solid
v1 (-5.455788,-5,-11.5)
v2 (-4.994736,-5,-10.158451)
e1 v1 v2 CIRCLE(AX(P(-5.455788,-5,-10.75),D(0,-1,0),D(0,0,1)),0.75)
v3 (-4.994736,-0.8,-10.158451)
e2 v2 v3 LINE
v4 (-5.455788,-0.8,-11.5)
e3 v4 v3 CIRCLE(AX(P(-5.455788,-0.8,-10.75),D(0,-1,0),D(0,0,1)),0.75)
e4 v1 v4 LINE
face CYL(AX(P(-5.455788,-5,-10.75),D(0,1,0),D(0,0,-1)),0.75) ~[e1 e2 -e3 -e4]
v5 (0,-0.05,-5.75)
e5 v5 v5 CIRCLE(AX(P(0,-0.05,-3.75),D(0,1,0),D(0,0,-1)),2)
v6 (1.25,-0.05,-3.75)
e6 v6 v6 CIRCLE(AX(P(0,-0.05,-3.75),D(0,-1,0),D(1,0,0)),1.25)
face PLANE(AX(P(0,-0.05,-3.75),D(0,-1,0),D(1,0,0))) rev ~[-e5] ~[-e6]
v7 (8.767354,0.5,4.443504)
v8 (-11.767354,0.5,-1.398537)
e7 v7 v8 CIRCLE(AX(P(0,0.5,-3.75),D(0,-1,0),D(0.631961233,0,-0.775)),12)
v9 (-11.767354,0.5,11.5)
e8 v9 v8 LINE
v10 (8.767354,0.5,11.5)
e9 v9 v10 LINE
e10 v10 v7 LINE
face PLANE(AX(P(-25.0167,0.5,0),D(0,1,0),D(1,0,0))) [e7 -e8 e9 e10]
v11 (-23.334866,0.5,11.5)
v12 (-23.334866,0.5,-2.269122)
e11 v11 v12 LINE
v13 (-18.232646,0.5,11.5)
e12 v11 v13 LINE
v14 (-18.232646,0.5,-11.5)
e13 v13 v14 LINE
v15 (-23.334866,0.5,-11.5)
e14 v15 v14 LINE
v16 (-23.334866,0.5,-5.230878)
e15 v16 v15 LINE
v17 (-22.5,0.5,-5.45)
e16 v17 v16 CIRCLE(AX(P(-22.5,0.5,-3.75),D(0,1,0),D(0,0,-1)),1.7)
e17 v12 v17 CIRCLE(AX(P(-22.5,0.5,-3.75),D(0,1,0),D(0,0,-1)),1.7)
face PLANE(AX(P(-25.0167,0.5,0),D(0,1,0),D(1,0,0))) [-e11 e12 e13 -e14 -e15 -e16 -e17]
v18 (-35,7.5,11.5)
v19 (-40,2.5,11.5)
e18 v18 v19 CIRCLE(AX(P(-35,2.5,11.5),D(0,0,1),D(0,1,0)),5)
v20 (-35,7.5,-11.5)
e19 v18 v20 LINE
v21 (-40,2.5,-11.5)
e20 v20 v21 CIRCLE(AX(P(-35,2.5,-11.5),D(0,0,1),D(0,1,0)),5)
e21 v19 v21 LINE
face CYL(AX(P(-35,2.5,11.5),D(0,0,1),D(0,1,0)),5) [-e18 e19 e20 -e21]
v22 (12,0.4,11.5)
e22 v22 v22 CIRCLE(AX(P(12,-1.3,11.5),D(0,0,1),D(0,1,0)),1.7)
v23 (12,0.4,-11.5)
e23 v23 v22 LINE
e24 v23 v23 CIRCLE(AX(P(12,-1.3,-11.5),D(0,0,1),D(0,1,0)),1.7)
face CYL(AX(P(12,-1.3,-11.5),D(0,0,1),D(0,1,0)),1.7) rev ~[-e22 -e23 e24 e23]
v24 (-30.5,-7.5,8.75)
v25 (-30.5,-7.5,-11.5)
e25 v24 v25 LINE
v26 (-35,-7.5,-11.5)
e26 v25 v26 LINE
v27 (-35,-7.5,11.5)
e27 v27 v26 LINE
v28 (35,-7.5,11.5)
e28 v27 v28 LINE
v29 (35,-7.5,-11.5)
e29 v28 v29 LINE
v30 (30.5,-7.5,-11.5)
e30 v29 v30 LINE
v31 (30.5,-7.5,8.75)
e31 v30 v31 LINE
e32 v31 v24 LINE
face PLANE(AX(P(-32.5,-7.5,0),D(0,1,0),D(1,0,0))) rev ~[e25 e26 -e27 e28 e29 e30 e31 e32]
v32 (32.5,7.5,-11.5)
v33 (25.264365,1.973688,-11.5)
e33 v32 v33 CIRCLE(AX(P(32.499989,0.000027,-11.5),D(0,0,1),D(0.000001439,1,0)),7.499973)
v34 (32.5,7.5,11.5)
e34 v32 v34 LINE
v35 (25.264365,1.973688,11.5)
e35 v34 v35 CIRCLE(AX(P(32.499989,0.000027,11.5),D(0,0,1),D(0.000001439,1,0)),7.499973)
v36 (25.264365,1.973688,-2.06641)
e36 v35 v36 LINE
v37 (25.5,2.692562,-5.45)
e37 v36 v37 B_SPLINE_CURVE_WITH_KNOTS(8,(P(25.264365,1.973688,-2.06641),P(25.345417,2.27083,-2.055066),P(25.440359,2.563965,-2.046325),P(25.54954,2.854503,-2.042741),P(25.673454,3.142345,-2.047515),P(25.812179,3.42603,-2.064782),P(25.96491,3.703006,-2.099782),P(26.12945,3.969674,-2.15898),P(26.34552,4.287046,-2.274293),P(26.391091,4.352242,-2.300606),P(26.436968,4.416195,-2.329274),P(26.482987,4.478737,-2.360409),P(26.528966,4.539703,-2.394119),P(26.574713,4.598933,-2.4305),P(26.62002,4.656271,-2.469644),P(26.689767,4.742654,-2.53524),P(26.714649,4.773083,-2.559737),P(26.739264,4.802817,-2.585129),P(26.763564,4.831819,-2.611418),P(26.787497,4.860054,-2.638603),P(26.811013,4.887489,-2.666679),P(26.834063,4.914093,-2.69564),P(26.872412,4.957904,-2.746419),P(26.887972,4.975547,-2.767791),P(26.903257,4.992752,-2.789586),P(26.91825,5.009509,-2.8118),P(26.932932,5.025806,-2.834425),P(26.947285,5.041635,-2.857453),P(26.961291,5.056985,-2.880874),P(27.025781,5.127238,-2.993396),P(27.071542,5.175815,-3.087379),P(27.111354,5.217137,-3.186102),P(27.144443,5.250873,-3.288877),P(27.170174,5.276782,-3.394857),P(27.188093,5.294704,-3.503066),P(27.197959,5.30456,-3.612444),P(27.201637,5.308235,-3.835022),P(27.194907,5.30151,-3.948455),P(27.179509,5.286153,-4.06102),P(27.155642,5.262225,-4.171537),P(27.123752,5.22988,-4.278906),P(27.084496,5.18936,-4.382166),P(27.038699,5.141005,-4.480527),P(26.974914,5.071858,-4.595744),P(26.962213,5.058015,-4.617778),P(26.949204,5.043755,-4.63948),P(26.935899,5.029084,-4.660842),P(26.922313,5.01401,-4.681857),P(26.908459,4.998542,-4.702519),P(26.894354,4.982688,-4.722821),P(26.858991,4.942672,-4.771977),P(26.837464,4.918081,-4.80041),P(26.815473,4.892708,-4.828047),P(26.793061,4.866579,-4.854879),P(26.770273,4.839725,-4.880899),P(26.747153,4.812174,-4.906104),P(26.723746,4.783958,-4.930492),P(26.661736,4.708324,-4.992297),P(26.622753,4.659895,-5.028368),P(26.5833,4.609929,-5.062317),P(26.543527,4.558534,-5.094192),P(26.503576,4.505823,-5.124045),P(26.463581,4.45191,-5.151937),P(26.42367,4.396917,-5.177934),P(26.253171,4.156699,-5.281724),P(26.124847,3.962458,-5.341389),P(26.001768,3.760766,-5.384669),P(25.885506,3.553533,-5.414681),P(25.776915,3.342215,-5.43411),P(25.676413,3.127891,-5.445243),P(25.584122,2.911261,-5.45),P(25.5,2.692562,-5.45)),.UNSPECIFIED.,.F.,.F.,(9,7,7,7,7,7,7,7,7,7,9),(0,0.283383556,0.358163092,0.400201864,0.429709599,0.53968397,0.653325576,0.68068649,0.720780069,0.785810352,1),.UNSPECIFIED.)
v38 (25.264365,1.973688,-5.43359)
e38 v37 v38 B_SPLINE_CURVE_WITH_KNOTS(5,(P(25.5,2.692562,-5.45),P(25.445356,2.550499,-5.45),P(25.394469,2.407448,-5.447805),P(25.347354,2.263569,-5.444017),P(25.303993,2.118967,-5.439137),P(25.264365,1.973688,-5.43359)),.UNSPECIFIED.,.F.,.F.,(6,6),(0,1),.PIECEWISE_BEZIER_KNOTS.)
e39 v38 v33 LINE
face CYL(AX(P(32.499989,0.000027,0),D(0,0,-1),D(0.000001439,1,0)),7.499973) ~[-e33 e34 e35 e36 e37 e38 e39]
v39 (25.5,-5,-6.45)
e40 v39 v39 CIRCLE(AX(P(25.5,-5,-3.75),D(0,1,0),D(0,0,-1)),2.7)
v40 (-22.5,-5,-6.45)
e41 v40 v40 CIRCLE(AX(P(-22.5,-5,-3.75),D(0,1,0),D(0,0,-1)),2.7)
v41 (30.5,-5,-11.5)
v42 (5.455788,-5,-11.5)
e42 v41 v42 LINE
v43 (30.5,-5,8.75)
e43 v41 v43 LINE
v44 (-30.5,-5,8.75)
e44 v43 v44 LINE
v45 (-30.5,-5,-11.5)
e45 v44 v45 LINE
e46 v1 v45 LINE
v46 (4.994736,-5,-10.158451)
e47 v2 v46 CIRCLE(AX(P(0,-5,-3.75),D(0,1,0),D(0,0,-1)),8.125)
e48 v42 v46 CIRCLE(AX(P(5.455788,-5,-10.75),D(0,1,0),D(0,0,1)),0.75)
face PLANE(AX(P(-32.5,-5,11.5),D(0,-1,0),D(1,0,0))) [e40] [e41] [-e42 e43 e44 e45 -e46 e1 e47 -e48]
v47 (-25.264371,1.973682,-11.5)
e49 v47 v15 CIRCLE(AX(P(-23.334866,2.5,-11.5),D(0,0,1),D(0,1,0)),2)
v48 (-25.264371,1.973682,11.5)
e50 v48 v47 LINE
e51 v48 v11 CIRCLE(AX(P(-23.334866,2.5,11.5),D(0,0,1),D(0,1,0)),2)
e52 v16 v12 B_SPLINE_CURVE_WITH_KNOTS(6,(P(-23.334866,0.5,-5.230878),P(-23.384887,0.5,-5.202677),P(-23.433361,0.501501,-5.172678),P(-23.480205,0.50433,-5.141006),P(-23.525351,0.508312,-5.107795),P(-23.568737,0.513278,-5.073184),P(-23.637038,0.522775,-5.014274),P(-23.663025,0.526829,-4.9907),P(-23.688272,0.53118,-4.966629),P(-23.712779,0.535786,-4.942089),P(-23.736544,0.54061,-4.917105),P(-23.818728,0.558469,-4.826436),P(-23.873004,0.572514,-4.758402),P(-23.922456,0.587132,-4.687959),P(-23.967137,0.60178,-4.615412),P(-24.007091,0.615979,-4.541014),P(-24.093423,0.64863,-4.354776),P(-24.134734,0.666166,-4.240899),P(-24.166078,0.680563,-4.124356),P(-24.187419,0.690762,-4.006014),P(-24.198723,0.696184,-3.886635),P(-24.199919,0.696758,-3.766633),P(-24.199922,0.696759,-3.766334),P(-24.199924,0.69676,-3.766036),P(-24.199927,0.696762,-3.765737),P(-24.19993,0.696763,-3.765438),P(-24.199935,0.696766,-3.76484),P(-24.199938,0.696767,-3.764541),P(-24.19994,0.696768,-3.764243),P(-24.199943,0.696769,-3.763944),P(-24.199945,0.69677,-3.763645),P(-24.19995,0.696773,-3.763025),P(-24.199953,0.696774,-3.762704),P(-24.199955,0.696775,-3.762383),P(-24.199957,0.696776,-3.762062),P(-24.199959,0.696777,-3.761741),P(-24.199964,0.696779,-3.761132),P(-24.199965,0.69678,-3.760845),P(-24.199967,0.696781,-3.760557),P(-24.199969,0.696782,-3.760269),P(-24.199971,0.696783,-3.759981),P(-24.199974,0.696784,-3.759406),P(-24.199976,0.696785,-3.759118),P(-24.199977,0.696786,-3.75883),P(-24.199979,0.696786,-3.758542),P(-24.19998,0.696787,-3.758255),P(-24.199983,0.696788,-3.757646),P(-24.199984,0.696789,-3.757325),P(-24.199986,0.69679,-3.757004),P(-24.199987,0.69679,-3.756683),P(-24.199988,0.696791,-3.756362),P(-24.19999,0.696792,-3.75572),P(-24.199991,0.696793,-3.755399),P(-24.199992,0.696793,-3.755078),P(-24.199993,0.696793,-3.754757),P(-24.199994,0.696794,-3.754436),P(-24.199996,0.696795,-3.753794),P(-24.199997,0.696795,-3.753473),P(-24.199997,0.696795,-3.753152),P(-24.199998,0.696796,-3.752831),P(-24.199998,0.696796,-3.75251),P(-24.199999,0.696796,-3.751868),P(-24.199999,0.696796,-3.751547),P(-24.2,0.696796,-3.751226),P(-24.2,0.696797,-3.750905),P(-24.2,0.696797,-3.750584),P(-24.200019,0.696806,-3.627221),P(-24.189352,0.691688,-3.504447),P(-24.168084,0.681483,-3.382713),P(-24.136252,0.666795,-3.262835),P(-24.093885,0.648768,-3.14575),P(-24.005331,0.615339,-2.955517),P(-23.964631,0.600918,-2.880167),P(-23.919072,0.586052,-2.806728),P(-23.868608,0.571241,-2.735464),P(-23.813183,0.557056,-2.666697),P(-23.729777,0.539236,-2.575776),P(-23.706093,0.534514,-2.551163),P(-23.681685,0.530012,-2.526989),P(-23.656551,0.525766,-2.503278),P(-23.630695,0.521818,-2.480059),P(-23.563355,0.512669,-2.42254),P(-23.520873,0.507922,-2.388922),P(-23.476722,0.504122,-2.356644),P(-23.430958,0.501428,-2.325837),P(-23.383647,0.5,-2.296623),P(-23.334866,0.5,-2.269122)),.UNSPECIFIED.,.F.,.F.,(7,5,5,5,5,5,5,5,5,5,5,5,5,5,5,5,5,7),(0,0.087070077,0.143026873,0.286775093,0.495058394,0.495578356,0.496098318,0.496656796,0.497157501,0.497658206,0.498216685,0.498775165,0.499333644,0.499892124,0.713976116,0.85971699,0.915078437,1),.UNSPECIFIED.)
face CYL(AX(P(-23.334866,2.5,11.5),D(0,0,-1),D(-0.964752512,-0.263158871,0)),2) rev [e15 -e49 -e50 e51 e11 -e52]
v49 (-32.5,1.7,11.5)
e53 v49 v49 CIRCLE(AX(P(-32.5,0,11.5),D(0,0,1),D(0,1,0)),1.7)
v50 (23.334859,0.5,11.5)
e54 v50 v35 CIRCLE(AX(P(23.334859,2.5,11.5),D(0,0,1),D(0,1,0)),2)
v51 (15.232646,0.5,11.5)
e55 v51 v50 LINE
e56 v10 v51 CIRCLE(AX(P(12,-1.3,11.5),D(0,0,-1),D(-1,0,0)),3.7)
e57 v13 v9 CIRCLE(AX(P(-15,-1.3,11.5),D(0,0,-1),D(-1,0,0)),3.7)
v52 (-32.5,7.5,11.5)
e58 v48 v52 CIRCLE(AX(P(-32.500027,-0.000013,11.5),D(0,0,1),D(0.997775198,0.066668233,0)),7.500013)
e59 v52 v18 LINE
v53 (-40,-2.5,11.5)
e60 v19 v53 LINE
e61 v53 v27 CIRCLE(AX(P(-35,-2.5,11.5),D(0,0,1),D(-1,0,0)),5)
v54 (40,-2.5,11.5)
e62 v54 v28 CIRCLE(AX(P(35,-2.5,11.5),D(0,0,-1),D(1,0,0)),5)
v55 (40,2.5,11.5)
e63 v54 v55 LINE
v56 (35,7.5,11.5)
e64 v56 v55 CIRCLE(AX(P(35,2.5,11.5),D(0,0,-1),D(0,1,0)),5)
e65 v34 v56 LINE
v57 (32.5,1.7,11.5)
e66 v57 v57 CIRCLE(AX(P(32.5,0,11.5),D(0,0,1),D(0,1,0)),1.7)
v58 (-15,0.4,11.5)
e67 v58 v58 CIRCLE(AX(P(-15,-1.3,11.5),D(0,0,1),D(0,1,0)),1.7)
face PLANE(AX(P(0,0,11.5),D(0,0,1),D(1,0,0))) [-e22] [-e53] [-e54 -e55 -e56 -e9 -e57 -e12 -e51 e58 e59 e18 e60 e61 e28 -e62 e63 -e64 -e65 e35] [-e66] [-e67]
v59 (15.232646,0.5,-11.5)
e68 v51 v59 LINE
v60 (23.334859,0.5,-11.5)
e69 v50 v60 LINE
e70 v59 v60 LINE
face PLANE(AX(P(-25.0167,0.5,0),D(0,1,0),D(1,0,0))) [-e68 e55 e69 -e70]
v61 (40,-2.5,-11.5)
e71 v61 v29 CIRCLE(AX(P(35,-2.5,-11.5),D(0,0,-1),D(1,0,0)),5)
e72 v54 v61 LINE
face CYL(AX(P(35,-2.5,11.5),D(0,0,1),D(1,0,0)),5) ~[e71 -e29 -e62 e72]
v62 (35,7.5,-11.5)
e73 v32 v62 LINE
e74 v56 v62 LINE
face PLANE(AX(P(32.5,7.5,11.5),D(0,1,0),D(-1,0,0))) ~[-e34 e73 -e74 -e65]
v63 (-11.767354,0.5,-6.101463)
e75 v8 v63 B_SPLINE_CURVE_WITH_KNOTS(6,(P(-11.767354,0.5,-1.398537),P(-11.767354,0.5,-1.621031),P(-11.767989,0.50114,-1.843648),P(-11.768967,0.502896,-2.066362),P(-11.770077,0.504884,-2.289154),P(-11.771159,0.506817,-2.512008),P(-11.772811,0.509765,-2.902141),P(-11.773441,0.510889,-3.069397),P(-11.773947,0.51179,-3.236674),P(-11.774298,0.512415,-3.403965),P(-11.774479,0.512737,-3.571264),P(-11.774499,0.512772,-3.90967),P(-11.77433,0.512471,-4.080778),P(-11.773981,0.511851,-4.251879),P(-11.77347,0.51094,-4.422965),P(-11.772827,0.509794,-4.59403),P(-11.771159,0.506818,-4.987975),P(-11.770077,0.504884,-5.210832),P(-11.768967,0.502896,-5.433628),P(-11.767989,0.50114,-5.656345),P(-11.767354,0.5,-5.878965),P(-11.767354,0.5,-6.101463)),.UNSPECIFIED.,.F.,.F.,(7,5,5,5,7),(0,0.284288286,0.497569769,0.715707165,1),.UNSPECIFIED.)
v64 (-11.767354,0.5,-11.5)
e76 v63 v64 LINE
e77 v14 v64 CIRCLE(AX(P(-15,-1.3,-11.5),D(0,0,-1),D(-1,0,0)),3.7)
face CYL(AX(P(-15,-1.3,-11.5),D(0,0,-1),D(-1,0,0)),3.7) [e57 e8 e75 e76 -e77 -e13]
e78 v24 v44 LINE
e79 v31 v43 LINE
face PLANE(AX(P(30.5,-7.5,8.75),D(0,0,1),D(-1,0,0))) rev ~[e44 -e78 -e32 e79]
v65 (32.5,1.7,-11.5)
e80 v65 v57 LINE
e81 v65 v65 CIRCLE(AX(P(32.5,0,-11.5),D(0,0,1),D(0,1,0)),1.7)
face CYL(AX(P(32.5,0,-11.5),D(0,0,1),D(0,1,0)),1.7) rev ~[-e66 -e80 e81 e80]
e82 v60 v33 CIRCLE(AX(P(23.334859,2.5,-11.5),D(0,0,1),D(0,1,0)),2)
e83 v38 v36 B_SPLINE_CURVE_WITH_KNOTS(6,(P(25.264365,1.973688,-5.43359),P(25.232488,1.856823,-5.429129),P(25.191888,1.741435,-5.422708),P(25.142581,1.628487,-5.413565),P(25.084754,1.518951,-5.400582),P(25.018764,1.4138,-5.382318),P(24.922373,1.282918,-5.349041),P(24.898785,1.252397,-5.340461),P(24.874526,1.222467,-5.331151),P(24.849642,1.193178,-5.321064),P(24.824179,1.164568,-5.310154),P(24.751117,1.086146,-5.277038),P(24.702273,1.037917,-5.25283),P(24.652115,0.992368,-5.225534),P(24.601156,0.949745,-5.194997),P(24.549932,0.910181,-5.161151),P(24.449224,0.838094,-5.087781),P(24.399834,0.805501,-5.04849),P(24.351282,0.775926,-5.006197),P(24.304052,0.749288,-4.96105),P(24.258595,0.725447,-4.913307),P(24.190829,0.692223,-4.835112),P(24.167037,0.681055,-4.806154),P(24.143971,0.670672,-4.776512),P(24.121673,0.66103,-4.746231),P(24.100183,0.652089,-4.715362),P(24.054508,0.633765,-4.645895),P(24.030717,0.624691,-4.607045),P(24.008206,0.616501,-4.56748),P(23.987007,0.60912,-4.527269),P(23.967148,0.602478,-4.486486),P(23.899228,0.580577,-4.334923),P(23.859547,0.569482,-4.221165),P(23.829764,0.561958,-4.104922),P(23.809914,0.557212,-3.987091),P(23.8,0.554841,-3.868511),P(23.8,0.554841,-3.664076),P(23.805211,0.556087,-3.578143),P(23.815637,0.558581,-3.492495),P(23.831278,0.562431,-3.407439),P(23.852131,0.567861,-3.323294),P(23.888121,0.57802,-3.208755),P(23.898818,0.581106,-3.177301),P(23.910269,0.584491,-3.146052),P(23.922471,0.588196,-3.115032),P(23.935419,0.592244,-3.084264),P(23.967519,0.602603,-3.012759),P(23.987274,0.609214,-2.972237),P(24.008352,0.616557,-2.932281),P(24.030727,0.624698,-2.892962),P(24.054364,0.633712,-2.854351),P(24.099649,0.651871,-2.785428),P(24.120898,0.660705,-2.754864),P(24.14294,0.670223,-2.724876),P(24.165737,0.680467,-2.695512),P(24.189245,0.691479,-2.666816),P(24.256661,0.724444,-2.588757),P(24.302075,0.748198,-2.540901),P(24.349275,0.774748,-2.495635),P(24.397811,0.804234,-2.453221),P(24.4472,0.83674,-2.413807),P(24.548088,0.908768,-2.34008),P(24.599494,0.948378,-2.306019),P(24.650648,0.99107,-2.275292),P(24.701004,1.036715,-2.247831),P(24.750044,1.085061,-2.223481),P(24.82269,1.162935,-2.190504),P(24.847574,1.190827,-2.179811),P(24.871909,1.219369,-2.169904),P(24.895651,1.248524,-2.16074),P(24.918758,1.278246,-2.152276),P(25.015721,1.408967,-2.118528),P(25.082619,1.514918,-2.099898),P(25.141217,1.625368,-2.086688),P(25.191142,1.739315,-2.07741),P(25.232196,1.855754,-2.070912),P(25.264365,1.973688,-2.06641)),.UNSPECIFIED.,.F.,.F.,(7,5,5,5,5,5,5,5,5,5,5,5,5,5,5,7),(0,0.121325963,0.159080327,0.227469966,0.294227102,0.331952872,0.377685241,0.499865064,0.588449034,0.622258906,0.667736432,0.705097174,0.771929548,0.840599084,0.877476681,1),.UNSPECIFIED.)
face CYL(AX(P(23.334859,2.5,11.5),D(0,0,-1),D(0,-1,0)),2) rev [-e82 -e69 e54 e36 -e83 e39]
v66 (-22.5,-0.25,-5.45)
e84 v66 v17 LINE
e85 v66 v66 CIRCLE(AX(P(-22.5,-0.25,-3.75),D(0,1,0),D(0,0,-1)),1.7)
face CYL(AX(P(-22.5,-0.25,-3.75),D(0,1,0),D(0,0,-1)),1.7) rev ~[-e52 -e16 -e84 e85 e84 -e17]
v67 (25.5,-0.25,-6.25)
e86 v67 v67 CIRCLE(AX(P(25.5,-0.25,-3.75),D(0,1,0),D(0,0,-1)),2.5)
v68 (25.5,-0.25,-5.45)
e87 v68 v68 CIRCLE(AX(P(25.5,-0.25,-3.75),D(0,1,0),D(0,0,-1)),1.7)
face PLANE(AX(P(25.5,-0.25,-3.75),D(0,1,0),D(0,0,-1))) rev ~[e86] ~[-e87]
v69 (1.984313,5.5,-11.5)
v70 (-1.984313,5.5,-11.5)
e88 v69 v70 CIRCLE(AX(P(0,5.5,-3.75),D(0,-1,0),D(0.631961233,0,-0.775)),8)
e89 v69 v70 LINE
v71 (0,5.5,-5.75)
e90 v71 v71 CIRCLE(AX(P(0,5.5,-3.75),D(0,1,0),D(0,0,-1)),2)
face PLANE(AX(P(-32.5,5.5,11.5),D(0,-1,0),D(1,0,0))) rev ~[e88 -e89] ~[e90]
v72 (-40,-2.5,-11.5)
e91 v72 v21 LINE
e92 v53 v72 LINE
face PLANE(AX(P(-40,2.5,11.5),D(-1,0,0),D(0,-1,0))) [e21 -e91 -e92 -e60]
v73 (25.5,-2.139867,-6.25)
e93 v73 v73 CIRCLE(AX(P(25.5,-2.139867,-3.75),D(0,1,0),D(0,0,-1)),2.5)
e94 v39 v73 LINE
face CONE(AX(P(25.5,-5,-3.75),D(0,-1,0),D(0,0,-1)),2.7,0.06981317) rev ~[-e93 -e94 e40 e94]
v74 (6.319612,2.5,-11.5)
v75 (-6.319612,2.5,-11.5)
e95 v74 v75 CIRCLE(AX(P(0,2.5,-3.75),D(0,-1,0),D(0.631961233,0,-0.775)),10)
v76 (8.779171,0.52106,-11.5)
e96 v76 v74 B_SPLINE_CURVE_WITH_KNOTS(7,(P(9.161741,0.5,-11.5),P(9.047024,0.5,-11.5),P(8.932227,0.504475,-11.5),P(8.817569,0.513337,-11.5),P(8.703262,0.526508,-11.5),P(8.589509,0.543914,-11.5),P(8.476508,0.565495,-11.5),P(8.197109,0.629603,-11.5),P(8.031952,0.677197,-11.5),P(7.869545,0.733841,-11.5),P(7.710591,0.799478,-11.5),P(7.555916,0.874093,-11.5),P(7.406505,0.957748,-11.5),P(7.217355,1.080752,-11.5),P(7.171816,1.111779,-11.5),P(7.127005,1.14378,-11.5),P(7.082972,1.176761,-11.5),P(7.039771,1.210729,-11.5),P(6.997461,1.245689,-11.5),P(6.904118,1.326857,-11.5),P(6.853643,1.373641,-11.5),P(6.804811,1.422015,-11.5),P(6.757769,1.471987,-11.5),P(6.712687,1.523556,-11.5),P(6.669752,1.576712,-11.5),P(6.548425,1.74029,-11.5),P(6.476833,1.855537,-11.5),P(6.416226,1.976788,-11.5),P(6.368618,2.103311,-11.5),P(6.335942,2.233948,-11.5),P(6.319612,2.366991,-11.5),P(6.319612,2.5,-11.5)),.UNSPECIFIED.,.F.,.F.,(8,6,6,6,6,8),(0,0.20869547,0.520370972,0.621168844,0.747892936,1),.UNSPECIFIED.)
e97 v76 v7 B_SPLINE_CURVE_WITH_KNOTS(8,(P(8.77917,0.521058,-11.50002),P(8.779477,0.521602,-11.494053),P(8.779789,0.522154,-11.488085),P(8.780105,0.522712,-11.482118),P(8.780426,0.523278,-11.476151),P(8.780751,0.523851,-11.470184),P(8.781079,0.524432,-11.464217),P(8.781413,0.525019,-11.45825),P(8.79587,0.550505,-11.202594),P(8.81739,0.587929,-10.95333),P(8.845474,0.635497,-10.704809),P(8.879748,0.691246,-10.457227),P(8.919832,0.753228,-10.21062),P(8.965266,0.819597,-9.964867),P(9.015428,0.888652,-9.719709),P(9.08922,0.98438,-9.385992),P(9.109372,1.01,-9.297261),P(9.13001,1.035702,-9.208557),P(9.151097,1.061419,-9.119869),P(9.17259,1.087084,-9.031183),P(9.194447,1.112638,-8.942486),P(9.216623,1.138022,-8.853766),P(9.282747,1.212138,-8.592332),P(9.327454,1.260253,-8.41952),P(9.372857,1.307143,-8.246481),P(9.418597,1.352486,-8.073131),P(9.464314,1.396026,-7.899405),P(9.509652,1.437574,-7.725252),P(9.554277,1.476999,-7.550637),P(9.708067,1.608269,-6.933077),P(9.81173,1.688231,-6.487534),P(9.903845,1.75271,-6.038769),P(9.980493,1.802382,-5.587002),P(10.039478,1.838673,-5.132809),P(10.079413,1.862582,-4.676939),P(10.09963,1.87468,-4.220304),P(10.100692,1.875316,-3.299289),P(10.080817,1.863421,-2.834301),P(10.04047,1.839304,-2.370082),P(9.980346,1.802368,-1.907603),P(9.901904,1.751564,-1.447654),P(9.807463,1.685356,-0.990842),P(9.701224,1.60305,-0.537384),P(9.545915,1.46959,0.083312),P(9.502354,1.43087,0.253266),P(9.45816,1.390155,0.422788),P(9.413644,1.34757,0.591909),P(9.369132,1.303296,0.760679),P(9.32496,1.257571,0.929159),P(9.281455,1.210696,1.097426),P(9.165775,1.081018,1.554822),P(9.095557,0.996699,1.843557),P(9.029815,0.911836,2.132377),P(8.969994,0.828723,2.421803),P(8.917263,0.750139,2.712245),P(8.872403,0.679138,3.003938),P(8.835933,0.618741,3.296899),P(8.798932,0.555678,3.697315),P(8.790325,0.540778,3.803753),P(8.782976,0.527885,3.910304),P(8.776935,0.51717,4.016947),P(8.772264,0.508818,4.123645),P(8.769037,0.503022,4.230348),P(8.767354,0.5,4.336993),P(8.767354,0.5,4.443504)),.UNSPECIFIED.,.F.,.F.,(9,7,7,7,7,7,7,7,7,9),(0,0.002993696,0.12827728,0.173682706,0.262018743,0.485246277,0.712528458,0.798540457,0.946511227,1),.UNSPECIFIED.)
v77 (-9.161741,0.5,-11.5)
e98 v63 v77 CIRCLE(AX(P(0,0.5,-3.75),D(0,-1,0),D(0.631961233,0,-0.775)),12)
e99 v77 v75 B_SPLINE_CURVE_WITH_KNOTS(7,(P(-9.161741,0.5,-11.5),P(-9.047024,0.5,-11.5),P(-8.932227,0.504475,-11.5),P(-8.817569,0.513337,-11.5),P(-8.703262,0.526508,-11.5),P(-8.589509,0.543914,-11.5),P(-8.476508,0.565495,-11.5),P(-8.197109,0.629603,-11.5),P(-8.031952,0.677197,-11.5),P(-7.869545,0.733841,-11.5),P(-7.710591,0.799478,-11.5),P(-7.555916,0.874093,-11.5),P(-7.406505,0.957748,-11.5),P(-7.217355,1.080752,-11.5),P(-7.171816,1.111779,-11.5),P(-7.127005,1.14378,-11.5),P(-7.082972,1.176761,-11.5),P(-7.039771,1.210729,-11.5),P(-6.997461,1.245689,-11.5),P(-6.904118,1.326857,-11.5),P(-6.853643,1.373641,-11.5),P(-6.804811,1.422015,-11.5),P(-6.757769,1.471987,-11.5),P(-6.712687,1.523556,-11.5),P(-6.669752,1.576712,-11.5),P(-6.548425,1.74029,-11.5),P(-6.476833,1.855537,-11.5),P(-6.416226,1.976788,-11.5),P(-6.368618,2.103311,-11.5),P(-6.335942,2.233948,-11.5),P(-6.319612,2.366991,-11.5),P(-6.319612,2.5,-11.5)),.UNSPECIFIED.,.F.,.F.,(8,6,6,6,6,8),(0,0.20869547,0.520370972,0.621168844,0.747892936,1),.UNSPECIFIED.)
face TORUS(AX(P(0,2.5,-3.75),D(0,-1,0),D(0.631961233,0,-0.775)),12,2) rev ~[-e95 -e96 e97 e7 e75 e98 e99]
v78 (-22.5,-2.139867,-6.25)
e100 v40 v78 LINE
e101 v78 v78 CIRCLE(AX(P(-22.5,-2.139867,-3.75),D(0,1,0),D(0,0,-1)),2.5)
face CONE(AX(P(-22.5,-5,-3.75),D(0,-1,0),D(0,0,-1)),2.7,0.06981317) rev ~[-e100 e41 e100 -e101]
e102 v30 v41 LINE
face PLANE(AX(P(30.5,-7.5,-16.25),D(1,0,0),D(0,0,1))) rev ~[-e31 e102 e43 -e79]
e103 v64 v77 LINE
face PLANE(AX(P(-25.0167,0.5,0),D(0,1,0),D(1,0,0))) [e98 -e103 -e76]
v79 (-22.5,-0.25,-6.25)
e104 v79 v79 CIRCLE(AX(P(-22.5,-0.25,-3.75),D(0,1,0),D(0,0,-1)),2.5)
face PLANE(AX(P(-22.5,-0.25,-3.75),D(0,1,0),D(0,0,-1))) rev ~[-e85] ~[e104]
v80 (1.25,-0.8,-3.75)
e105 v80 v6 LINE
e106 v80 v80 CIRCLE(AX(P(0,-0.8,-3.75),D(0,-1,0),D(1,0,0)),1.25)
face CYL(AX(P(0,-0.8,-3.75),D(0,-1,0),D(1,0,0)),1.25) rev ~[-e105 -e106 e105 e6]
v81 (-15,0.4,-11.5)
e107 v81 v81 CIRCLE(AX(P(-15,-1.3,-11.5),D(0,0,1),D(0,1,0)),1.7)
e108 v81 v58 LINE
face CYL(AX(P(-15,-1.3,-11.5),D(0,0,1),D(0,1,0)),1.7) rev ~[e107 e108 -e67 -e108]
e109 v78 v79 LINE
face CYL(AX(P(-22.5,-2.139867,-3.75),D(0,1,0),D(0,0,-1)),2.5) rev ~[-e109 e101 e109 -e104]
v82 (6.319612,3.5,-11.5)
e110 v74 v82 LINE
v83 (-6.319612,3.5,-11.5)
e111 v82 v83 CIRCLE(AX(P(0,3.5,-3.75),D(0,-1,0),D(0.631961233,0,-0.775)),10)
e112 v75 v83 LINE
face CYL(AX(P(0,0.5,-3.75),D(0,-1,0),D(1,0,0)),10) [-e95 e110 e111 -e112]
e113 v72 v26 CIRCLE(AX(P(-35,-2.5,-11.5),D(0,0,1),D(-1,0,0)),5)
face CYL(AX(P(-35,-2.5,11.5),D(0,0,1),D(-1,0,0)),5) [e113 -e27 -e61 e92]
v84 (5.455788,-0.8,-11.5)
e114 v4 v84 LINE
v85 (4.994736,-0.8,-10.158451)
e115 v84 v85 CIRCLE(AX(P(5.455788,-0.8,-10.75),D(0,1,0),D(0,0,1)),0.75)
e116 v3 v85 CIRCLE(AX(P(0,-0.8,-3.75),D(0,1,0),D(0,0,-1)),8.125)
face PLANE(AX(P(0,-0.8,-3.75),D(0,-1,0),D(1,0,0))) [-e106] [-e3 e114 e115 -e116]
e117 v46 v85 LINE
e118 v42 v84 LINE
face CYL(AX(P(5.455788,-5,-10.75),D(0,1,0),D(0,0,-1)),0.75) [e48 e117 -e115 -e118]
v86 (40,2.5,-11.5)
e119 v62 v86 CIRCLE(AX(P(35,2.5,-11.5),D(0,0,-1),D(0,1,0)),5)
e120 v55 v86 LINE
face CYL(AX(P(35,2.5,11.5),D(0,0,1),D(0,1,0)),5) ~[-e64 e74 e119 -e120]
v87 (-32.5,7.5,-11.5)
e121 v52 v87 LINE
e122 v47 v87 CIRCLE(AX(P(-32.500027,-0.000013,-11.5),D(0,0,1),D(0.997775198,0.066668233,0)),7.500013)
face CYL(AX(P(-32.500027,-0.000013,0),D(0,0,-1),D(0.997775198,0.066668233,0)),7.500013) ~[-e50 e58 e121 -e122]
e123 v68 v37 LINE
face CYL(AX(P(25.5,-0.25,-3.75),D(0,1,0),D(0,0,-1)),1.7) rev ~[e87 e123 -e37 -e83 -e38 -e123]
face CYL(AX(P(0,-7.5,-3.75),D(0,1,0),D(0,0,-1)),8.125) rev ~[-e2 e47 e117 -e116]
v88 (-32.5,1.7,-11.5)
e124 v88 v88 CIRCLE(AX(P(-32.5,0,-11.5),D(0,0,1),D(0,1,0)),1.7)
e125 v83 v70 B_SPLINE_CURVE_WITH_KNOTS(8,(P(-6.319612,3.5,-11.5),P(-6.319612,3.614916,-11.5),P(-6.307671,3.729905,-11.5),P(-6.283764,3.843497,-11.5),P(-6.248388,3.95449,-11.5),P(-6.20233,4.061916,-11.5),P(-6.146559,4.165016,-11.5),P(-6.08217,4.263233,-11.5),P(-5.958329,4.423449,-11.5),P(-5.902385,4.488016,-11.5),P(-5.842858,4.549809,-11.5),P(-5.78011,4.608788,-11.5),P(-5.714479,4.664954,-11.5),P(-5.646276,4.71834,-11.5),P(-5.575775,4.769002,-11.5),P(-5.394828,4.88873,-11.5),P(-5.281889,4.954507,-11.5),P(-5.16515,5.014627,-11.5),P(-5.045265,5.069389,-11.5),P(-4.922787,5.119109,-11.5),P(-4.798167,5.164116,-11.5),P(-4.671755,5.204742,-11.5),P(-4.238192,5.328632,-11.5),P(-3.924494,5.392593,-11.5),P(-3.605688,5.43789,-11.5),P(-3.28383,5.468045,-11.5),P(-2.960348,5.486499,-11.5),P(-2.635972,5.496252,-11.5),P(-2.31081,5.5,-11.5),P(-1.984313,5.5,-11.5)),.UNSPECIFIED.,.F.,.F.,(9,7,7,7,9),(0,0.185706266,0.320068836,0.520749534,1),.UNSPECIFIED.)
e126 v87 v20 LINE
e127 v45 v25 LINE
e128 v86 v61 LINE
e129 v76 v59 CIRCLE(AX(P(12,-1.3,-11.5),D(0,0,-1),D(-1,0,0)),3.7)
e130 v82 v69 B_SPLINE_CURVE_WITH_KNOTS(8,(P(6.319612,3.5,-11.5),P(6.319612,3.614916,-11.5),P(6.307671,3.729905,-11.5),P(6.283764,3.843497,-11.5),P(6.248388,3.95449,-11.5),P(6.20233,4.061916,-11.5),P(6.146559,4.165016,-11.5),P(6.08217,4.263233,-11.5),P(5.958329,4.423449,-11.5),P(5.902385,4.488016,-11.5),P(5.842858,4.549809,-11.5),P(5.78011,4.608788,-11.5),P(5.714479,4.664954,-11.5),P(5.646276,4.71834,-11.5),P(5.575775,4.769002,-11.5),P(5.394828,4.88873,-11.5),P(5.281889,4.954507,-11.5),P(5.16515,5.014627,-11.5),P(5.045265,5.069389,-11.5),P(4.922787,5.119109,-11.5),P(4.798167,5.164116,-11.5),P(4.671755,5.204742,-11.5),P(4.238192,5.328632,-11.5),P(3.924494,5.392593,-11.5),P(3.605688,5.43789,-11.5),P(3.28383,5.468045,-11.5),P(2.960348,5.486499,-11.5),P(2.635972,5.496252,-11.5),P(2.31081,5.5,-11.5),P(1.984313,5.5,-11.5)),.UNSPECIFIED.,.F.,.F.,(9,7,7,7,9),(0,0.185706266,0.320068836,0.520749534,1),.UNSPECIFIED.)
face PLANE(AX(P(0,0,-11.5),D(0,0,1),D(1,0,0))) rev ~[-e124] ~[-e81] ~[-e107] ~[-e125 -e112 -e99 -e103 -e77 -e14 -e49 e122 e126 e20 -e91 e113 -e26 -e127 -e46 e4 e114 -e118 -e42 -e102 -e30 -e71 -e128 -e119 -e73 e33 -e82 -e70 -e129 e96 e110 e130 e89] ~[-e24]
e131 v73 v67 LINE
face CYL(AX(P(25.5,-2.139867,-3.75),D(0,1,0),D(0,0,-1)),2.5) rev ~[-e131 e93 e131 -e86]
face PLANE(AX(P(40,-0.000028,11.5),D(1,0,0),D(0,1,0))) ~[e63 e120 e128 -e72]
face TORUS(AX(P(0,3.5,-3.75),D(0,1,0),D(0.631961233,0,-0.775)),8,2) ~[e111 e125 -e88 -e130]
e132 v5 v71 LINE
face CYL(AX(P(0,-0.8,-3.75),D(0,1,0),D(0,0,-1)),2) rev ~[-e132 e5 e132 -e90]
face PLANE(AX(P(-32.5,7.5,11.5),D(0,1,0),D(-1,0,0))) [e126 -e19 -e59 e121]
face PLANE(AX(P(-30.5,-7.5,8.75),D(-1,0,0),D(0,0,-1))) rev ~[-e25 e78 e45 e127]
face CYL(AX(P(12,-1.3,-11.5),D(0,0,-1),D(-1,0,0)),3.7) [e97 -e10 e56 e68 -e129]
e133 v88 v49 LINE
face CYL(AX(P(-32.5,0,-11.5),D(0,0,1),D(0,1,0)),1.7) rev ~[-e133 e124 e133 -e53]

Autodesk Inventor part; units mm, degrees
ref_plane "YZ Plane" through (0, 0, 0) normal (1, 0, 0) x (0, 1, 0)
ref_plane "XZ Plane" through (0, 0, 0) normal (0, 1, 0) x (-1, 0, 0)
ref_plane "XY Plane" through (0, 0, 0) normal (0, 0, 1) x (1, 0, 0)
sketch "Sketch1" plane through (0, 0, 0) normal (0, 0, 1) x (1, 0, 0)
  line L0 (-32.5, 0) -> (32.5, 0) construction
  line L1 (-32.5, -7.5) -> (32.5, -7.5)
  line L2 (32.5, 7.5) -> (-32.5, 7.5)
  arc A0 (-32.5, 7.5) -> (-32.5, -7.5) centre (-32.5, 0) ccw
  arc A1 (32.5, -7.5) -> (32.5, 7.5) centre (32.5, 0) ccw
  arc A2 (-25.0167, 0.5) -> (-32.5, 7.5) centre (-32.5, 0) ccw
  arc A3 (32.5, 7.5) -> (25.0167, 0.5) centre (32.5, 0) ccw
  line L3 (-25.0167, 0.5) -> (25.0167, 0.5)
  point P0 (0, 0)
  point P1 (-32.5, 7.5)
  dimension "d0" = 15
  dimension "d1" = 65
  dimension "d3" = 8
extrude "Extrusion1" add sketch "Sketch1" along normal mid plane 23 contours A0 A2 L3 A3 A1 L1
sketch "Sketch2" plane through (-32.5, 0.5, 11.5) normal (0, -1, 0) x (1, 0, 0)
  line L0 (65, -23) -> (0, -23) projected
  circle A0 centre (32.5, -15.25) radius 10
  point P0 (32.5, -11.5)
  point P1 (38.8196, -23)
  point P2 (26.1804, -23)
  dimension "d6" = 7.75
  dimension "d14" = 20
extrude "Extrusion2" add sketch "Sketch2" against normal blind 5 contours L0 A0 picked at (30.3633, -19.1493)
sketch "Sketch3" plane through (-32.5, -7.5, 11.5) normal (0, -1, 0) x (1, 0, 0)
  arc A0 (38.8196, -23) -> (26.1804, -23) centre (32.5, -15.25) ccw projected
  point P0 (32.5, -11.5)
hole "Hole2" at (0, -7.5, -3.75) direction (0, 1, 0) diameter 4 end through all counterbore diameter 16.25 counterbore depth 6.7
fillet "Fillet1" radius 2 4 edges at (0, 0.5, 6.25) (0, 5.5, 6.25) (25.0167, 0.5, 0) (-25.0167, 0.5, 0)
sketch "Sketch5" plane through (-32.5, -7.5, 11.5) normal (0, -1, 0) x (1, 0, 0)
  circle A0 centre (32.5, -15.25) radius 2 projected
  line L0 (63, -2.75) -> (2, -2.75)
  line L1 (2, -2.75) -> (2, -27.75)
  line L2 (2, -27.75) -> (63, -27.75)
  line L3 (63, -27.75) -> (63, -2.75)
  line L4 (63, -2.75) -> (2, -27.75) construction
  line L5 (2, -2.75) -> (63, -27.75) construction
  point P0 (32.5, -11.5)
  dimension "d28" = 61
  dimension "d29" = 12.5
extrude "Extrusion4" cut sketch "Sketch5" against normal blind 2.5
sketch "Sketch6" plane through (0, 0, -11.5) normal (0, 0, -1) x (-1, 0, 0)
  arc A0 (-25.2644, 1.9737) -> (-32.5, -7.5) centre (-32.5, 0) ccw projected
  arc A1 (32.5, -7.5) -> (25.2644, 1.9737) centre (32.5, 0) ccw projected
  point P0 (0, 0)
  point P1 (-32.5, 0)
hole "Hole3" at (32.5, 0, -11.5) at (-32.5, 0, -11.5) direction (0, 0, 1) diameter 3.4 end through all clearance for "Socket Head Cap Screw" size "M3" standard "Ansi Metric M Profile"
sketch "Sketch7" plane through (0, 0, 11.5) normal (0, 0, 1) x (1, 0, 0)
  circle A0 centre (32.5, 0) radius 1.7 projected
  circle A1 centre (-32.5, 0) radius 1.7 projected
  arc A2 (32.5, -7.5) -> (25.2644, 1.9737) centre (32.5, 0) ccw projected
  arc A3 (23.3348, 0.5) -> (25.2644, 1.9737) centre (23.3348, 2.5) ccw projected
  line L0 (23.3348, 0.5) -> (-23.3348, 0.5) projected
  arc A4 (-25.2644, 1.9737) -> (-23.3348, 0.5) centre (-23.3348, 2.5) ccw projected
  arc A5 (-25.2644, 1.9737) -> (-32.5, -7.5) centre (-32.5, 0) ccw projected
  line L1 (-32.5, -7.5) -> (32.5, -7.5) projected
  arc A6 (-25.2644, 1.9737) -> (-32.5, -7.5) centre (-32.5, 0) ccw projected
  line L2 (-32.5, 7.5) -> (-35, 7.5)
  line L3 (-40, 2.5) -> (-40, -2.5)
  line L4 (-35, -7.5) -> (-32.5, -7.5)
  arc A7 (-35, 7.5) -> (-40, 2.5) centre (-35, 2.5) ccw
  arc A8 (-40, -2.5) -> (-35, -7.5) centre (-35, -2.5) ccw
  point P0 (0, 0)
  point P1 (-40, 0)
  dimension "d39" = 5
extrude "Extrusion5" add sketch "Sketch7" against normal up to surface (23 mm away) contours L4 A8 L3 A5 | L3 A7 L2 A5
mirror "Mirror1" about plane through (0, 0, 0) normal (1, 0, 0) of "Extrusion5"
sketch "Sketch8" plane through (-32.5, -5, 11.5) normal (0, -1, 0) x (1, 0, 0)
  circle A0 centre (32.5, -15.25) radius 2 projected
  circle A1 centre (58, -15.25) radius 2.65
  circle A2 centre (10, -15.25) radius 2.65
  point P0 (32.5, -11.5)
  dimension "d42" = 25.5
  dimension "d43" = 22.5
  dimension "d44" = 5.3
  dimension "d45" = 5.3
hole "Hole4" at (25.5, -5, -3.75) at (-22.5, -5, -3.75) direction (0, 1, 0) diameter 5 depth 4.75 countersink diameter 5.4 countersink angle 8
sketch "Sketch9" plane through (25.5, -0.25, -3.75) normal (0, -1, 0) x (1, 0, 0)
  circle A0 centre (0, 0) radius 2.7 projected
  circle A1 centre (-48, 0) radius 2.5 projected
  point P0 (-25.5, 3.75)
hole "Hole5" at (25.5, -0.25, -3.75) at (-22.5, -0.25, -3.75) direction (0, 1, 0) diameter 3.4 depth 9.5 clearance for "Socket Head Cap Screw" size "M3" standard "Ansi Metric M Profile"
sketch "Sketch11" plane through (0, 0, -11.5) normal (0, 0, -1) x (-1, 0, 0)
  circle A0 centre (-12, -1.3) radius 2.7
  circle A1 centre (15, -1.3) radius 2.7
  line L0 (-30.5, -5) -> (-2.4399, -5) projected
  circle A2 centre (-12, -1.3) radius 3.7
  circle A3 centre (15, -1.3) radius 3.7
  line L1 (30.5, -7.5) -> (-30.5, -7.5) projected
  point P0 (0, 0)
  dimension "d71" = 5.4
  dimension "d72" = 5.4
  dimension "d73" = 15
  dimension "d74" = 12
  dimension "d76" = 1
  dimension "d94" = 6.2
extrude "Extrusion6" add sketch "Sketch11" against normal up to surface (23 mm away) contours A0 | A1 | A2 | A3
sketch "Sketch12" plane through (0, 0, -11.5) normal (0, 0, -1) x (-1, 0, 0)
  arc A0 (-8.7792, 0.5211) -> (-15.2326, 0.5) centre (-12, -1.3) ccw projected
  arc A1 (18.2326, 0.5) -> (11.7674, 0.5) centre (15, -1.3) ccw projected
  point P0 (0, 0)
  point P1 (-13.7674, 0.5)
hole "Hole7" at (12, -1.3, -11.5) at (-15, -1.3, -11.5) direction (0, 0, 1) diameter 3.4 end through all clearance for "Socket Head Cap Screw" size "M3" standard "Ansi Metric M Profile"
fillet "Fillet2" radius 0.75 2 edges at (2.4399, -2.9, -11.5) (-2.4399, -2.9, -11.5)
sketch "Sketch15" plane through (0, -0.8, -3.75) normal (0, -1, 0) x (1, 0, 0)
  circle A0 centre (0, 0) radius 2 projected
  circle A1 centre (0, 0) radius 1.25
  point P0 (0, 3.75)
  dimension "d103" = 0.75
extrude "Extrusion7" add sketch "Sketch15" against normal blind 0.75
properties part number "Lower Extruder Block" material "ABS Plastic"
